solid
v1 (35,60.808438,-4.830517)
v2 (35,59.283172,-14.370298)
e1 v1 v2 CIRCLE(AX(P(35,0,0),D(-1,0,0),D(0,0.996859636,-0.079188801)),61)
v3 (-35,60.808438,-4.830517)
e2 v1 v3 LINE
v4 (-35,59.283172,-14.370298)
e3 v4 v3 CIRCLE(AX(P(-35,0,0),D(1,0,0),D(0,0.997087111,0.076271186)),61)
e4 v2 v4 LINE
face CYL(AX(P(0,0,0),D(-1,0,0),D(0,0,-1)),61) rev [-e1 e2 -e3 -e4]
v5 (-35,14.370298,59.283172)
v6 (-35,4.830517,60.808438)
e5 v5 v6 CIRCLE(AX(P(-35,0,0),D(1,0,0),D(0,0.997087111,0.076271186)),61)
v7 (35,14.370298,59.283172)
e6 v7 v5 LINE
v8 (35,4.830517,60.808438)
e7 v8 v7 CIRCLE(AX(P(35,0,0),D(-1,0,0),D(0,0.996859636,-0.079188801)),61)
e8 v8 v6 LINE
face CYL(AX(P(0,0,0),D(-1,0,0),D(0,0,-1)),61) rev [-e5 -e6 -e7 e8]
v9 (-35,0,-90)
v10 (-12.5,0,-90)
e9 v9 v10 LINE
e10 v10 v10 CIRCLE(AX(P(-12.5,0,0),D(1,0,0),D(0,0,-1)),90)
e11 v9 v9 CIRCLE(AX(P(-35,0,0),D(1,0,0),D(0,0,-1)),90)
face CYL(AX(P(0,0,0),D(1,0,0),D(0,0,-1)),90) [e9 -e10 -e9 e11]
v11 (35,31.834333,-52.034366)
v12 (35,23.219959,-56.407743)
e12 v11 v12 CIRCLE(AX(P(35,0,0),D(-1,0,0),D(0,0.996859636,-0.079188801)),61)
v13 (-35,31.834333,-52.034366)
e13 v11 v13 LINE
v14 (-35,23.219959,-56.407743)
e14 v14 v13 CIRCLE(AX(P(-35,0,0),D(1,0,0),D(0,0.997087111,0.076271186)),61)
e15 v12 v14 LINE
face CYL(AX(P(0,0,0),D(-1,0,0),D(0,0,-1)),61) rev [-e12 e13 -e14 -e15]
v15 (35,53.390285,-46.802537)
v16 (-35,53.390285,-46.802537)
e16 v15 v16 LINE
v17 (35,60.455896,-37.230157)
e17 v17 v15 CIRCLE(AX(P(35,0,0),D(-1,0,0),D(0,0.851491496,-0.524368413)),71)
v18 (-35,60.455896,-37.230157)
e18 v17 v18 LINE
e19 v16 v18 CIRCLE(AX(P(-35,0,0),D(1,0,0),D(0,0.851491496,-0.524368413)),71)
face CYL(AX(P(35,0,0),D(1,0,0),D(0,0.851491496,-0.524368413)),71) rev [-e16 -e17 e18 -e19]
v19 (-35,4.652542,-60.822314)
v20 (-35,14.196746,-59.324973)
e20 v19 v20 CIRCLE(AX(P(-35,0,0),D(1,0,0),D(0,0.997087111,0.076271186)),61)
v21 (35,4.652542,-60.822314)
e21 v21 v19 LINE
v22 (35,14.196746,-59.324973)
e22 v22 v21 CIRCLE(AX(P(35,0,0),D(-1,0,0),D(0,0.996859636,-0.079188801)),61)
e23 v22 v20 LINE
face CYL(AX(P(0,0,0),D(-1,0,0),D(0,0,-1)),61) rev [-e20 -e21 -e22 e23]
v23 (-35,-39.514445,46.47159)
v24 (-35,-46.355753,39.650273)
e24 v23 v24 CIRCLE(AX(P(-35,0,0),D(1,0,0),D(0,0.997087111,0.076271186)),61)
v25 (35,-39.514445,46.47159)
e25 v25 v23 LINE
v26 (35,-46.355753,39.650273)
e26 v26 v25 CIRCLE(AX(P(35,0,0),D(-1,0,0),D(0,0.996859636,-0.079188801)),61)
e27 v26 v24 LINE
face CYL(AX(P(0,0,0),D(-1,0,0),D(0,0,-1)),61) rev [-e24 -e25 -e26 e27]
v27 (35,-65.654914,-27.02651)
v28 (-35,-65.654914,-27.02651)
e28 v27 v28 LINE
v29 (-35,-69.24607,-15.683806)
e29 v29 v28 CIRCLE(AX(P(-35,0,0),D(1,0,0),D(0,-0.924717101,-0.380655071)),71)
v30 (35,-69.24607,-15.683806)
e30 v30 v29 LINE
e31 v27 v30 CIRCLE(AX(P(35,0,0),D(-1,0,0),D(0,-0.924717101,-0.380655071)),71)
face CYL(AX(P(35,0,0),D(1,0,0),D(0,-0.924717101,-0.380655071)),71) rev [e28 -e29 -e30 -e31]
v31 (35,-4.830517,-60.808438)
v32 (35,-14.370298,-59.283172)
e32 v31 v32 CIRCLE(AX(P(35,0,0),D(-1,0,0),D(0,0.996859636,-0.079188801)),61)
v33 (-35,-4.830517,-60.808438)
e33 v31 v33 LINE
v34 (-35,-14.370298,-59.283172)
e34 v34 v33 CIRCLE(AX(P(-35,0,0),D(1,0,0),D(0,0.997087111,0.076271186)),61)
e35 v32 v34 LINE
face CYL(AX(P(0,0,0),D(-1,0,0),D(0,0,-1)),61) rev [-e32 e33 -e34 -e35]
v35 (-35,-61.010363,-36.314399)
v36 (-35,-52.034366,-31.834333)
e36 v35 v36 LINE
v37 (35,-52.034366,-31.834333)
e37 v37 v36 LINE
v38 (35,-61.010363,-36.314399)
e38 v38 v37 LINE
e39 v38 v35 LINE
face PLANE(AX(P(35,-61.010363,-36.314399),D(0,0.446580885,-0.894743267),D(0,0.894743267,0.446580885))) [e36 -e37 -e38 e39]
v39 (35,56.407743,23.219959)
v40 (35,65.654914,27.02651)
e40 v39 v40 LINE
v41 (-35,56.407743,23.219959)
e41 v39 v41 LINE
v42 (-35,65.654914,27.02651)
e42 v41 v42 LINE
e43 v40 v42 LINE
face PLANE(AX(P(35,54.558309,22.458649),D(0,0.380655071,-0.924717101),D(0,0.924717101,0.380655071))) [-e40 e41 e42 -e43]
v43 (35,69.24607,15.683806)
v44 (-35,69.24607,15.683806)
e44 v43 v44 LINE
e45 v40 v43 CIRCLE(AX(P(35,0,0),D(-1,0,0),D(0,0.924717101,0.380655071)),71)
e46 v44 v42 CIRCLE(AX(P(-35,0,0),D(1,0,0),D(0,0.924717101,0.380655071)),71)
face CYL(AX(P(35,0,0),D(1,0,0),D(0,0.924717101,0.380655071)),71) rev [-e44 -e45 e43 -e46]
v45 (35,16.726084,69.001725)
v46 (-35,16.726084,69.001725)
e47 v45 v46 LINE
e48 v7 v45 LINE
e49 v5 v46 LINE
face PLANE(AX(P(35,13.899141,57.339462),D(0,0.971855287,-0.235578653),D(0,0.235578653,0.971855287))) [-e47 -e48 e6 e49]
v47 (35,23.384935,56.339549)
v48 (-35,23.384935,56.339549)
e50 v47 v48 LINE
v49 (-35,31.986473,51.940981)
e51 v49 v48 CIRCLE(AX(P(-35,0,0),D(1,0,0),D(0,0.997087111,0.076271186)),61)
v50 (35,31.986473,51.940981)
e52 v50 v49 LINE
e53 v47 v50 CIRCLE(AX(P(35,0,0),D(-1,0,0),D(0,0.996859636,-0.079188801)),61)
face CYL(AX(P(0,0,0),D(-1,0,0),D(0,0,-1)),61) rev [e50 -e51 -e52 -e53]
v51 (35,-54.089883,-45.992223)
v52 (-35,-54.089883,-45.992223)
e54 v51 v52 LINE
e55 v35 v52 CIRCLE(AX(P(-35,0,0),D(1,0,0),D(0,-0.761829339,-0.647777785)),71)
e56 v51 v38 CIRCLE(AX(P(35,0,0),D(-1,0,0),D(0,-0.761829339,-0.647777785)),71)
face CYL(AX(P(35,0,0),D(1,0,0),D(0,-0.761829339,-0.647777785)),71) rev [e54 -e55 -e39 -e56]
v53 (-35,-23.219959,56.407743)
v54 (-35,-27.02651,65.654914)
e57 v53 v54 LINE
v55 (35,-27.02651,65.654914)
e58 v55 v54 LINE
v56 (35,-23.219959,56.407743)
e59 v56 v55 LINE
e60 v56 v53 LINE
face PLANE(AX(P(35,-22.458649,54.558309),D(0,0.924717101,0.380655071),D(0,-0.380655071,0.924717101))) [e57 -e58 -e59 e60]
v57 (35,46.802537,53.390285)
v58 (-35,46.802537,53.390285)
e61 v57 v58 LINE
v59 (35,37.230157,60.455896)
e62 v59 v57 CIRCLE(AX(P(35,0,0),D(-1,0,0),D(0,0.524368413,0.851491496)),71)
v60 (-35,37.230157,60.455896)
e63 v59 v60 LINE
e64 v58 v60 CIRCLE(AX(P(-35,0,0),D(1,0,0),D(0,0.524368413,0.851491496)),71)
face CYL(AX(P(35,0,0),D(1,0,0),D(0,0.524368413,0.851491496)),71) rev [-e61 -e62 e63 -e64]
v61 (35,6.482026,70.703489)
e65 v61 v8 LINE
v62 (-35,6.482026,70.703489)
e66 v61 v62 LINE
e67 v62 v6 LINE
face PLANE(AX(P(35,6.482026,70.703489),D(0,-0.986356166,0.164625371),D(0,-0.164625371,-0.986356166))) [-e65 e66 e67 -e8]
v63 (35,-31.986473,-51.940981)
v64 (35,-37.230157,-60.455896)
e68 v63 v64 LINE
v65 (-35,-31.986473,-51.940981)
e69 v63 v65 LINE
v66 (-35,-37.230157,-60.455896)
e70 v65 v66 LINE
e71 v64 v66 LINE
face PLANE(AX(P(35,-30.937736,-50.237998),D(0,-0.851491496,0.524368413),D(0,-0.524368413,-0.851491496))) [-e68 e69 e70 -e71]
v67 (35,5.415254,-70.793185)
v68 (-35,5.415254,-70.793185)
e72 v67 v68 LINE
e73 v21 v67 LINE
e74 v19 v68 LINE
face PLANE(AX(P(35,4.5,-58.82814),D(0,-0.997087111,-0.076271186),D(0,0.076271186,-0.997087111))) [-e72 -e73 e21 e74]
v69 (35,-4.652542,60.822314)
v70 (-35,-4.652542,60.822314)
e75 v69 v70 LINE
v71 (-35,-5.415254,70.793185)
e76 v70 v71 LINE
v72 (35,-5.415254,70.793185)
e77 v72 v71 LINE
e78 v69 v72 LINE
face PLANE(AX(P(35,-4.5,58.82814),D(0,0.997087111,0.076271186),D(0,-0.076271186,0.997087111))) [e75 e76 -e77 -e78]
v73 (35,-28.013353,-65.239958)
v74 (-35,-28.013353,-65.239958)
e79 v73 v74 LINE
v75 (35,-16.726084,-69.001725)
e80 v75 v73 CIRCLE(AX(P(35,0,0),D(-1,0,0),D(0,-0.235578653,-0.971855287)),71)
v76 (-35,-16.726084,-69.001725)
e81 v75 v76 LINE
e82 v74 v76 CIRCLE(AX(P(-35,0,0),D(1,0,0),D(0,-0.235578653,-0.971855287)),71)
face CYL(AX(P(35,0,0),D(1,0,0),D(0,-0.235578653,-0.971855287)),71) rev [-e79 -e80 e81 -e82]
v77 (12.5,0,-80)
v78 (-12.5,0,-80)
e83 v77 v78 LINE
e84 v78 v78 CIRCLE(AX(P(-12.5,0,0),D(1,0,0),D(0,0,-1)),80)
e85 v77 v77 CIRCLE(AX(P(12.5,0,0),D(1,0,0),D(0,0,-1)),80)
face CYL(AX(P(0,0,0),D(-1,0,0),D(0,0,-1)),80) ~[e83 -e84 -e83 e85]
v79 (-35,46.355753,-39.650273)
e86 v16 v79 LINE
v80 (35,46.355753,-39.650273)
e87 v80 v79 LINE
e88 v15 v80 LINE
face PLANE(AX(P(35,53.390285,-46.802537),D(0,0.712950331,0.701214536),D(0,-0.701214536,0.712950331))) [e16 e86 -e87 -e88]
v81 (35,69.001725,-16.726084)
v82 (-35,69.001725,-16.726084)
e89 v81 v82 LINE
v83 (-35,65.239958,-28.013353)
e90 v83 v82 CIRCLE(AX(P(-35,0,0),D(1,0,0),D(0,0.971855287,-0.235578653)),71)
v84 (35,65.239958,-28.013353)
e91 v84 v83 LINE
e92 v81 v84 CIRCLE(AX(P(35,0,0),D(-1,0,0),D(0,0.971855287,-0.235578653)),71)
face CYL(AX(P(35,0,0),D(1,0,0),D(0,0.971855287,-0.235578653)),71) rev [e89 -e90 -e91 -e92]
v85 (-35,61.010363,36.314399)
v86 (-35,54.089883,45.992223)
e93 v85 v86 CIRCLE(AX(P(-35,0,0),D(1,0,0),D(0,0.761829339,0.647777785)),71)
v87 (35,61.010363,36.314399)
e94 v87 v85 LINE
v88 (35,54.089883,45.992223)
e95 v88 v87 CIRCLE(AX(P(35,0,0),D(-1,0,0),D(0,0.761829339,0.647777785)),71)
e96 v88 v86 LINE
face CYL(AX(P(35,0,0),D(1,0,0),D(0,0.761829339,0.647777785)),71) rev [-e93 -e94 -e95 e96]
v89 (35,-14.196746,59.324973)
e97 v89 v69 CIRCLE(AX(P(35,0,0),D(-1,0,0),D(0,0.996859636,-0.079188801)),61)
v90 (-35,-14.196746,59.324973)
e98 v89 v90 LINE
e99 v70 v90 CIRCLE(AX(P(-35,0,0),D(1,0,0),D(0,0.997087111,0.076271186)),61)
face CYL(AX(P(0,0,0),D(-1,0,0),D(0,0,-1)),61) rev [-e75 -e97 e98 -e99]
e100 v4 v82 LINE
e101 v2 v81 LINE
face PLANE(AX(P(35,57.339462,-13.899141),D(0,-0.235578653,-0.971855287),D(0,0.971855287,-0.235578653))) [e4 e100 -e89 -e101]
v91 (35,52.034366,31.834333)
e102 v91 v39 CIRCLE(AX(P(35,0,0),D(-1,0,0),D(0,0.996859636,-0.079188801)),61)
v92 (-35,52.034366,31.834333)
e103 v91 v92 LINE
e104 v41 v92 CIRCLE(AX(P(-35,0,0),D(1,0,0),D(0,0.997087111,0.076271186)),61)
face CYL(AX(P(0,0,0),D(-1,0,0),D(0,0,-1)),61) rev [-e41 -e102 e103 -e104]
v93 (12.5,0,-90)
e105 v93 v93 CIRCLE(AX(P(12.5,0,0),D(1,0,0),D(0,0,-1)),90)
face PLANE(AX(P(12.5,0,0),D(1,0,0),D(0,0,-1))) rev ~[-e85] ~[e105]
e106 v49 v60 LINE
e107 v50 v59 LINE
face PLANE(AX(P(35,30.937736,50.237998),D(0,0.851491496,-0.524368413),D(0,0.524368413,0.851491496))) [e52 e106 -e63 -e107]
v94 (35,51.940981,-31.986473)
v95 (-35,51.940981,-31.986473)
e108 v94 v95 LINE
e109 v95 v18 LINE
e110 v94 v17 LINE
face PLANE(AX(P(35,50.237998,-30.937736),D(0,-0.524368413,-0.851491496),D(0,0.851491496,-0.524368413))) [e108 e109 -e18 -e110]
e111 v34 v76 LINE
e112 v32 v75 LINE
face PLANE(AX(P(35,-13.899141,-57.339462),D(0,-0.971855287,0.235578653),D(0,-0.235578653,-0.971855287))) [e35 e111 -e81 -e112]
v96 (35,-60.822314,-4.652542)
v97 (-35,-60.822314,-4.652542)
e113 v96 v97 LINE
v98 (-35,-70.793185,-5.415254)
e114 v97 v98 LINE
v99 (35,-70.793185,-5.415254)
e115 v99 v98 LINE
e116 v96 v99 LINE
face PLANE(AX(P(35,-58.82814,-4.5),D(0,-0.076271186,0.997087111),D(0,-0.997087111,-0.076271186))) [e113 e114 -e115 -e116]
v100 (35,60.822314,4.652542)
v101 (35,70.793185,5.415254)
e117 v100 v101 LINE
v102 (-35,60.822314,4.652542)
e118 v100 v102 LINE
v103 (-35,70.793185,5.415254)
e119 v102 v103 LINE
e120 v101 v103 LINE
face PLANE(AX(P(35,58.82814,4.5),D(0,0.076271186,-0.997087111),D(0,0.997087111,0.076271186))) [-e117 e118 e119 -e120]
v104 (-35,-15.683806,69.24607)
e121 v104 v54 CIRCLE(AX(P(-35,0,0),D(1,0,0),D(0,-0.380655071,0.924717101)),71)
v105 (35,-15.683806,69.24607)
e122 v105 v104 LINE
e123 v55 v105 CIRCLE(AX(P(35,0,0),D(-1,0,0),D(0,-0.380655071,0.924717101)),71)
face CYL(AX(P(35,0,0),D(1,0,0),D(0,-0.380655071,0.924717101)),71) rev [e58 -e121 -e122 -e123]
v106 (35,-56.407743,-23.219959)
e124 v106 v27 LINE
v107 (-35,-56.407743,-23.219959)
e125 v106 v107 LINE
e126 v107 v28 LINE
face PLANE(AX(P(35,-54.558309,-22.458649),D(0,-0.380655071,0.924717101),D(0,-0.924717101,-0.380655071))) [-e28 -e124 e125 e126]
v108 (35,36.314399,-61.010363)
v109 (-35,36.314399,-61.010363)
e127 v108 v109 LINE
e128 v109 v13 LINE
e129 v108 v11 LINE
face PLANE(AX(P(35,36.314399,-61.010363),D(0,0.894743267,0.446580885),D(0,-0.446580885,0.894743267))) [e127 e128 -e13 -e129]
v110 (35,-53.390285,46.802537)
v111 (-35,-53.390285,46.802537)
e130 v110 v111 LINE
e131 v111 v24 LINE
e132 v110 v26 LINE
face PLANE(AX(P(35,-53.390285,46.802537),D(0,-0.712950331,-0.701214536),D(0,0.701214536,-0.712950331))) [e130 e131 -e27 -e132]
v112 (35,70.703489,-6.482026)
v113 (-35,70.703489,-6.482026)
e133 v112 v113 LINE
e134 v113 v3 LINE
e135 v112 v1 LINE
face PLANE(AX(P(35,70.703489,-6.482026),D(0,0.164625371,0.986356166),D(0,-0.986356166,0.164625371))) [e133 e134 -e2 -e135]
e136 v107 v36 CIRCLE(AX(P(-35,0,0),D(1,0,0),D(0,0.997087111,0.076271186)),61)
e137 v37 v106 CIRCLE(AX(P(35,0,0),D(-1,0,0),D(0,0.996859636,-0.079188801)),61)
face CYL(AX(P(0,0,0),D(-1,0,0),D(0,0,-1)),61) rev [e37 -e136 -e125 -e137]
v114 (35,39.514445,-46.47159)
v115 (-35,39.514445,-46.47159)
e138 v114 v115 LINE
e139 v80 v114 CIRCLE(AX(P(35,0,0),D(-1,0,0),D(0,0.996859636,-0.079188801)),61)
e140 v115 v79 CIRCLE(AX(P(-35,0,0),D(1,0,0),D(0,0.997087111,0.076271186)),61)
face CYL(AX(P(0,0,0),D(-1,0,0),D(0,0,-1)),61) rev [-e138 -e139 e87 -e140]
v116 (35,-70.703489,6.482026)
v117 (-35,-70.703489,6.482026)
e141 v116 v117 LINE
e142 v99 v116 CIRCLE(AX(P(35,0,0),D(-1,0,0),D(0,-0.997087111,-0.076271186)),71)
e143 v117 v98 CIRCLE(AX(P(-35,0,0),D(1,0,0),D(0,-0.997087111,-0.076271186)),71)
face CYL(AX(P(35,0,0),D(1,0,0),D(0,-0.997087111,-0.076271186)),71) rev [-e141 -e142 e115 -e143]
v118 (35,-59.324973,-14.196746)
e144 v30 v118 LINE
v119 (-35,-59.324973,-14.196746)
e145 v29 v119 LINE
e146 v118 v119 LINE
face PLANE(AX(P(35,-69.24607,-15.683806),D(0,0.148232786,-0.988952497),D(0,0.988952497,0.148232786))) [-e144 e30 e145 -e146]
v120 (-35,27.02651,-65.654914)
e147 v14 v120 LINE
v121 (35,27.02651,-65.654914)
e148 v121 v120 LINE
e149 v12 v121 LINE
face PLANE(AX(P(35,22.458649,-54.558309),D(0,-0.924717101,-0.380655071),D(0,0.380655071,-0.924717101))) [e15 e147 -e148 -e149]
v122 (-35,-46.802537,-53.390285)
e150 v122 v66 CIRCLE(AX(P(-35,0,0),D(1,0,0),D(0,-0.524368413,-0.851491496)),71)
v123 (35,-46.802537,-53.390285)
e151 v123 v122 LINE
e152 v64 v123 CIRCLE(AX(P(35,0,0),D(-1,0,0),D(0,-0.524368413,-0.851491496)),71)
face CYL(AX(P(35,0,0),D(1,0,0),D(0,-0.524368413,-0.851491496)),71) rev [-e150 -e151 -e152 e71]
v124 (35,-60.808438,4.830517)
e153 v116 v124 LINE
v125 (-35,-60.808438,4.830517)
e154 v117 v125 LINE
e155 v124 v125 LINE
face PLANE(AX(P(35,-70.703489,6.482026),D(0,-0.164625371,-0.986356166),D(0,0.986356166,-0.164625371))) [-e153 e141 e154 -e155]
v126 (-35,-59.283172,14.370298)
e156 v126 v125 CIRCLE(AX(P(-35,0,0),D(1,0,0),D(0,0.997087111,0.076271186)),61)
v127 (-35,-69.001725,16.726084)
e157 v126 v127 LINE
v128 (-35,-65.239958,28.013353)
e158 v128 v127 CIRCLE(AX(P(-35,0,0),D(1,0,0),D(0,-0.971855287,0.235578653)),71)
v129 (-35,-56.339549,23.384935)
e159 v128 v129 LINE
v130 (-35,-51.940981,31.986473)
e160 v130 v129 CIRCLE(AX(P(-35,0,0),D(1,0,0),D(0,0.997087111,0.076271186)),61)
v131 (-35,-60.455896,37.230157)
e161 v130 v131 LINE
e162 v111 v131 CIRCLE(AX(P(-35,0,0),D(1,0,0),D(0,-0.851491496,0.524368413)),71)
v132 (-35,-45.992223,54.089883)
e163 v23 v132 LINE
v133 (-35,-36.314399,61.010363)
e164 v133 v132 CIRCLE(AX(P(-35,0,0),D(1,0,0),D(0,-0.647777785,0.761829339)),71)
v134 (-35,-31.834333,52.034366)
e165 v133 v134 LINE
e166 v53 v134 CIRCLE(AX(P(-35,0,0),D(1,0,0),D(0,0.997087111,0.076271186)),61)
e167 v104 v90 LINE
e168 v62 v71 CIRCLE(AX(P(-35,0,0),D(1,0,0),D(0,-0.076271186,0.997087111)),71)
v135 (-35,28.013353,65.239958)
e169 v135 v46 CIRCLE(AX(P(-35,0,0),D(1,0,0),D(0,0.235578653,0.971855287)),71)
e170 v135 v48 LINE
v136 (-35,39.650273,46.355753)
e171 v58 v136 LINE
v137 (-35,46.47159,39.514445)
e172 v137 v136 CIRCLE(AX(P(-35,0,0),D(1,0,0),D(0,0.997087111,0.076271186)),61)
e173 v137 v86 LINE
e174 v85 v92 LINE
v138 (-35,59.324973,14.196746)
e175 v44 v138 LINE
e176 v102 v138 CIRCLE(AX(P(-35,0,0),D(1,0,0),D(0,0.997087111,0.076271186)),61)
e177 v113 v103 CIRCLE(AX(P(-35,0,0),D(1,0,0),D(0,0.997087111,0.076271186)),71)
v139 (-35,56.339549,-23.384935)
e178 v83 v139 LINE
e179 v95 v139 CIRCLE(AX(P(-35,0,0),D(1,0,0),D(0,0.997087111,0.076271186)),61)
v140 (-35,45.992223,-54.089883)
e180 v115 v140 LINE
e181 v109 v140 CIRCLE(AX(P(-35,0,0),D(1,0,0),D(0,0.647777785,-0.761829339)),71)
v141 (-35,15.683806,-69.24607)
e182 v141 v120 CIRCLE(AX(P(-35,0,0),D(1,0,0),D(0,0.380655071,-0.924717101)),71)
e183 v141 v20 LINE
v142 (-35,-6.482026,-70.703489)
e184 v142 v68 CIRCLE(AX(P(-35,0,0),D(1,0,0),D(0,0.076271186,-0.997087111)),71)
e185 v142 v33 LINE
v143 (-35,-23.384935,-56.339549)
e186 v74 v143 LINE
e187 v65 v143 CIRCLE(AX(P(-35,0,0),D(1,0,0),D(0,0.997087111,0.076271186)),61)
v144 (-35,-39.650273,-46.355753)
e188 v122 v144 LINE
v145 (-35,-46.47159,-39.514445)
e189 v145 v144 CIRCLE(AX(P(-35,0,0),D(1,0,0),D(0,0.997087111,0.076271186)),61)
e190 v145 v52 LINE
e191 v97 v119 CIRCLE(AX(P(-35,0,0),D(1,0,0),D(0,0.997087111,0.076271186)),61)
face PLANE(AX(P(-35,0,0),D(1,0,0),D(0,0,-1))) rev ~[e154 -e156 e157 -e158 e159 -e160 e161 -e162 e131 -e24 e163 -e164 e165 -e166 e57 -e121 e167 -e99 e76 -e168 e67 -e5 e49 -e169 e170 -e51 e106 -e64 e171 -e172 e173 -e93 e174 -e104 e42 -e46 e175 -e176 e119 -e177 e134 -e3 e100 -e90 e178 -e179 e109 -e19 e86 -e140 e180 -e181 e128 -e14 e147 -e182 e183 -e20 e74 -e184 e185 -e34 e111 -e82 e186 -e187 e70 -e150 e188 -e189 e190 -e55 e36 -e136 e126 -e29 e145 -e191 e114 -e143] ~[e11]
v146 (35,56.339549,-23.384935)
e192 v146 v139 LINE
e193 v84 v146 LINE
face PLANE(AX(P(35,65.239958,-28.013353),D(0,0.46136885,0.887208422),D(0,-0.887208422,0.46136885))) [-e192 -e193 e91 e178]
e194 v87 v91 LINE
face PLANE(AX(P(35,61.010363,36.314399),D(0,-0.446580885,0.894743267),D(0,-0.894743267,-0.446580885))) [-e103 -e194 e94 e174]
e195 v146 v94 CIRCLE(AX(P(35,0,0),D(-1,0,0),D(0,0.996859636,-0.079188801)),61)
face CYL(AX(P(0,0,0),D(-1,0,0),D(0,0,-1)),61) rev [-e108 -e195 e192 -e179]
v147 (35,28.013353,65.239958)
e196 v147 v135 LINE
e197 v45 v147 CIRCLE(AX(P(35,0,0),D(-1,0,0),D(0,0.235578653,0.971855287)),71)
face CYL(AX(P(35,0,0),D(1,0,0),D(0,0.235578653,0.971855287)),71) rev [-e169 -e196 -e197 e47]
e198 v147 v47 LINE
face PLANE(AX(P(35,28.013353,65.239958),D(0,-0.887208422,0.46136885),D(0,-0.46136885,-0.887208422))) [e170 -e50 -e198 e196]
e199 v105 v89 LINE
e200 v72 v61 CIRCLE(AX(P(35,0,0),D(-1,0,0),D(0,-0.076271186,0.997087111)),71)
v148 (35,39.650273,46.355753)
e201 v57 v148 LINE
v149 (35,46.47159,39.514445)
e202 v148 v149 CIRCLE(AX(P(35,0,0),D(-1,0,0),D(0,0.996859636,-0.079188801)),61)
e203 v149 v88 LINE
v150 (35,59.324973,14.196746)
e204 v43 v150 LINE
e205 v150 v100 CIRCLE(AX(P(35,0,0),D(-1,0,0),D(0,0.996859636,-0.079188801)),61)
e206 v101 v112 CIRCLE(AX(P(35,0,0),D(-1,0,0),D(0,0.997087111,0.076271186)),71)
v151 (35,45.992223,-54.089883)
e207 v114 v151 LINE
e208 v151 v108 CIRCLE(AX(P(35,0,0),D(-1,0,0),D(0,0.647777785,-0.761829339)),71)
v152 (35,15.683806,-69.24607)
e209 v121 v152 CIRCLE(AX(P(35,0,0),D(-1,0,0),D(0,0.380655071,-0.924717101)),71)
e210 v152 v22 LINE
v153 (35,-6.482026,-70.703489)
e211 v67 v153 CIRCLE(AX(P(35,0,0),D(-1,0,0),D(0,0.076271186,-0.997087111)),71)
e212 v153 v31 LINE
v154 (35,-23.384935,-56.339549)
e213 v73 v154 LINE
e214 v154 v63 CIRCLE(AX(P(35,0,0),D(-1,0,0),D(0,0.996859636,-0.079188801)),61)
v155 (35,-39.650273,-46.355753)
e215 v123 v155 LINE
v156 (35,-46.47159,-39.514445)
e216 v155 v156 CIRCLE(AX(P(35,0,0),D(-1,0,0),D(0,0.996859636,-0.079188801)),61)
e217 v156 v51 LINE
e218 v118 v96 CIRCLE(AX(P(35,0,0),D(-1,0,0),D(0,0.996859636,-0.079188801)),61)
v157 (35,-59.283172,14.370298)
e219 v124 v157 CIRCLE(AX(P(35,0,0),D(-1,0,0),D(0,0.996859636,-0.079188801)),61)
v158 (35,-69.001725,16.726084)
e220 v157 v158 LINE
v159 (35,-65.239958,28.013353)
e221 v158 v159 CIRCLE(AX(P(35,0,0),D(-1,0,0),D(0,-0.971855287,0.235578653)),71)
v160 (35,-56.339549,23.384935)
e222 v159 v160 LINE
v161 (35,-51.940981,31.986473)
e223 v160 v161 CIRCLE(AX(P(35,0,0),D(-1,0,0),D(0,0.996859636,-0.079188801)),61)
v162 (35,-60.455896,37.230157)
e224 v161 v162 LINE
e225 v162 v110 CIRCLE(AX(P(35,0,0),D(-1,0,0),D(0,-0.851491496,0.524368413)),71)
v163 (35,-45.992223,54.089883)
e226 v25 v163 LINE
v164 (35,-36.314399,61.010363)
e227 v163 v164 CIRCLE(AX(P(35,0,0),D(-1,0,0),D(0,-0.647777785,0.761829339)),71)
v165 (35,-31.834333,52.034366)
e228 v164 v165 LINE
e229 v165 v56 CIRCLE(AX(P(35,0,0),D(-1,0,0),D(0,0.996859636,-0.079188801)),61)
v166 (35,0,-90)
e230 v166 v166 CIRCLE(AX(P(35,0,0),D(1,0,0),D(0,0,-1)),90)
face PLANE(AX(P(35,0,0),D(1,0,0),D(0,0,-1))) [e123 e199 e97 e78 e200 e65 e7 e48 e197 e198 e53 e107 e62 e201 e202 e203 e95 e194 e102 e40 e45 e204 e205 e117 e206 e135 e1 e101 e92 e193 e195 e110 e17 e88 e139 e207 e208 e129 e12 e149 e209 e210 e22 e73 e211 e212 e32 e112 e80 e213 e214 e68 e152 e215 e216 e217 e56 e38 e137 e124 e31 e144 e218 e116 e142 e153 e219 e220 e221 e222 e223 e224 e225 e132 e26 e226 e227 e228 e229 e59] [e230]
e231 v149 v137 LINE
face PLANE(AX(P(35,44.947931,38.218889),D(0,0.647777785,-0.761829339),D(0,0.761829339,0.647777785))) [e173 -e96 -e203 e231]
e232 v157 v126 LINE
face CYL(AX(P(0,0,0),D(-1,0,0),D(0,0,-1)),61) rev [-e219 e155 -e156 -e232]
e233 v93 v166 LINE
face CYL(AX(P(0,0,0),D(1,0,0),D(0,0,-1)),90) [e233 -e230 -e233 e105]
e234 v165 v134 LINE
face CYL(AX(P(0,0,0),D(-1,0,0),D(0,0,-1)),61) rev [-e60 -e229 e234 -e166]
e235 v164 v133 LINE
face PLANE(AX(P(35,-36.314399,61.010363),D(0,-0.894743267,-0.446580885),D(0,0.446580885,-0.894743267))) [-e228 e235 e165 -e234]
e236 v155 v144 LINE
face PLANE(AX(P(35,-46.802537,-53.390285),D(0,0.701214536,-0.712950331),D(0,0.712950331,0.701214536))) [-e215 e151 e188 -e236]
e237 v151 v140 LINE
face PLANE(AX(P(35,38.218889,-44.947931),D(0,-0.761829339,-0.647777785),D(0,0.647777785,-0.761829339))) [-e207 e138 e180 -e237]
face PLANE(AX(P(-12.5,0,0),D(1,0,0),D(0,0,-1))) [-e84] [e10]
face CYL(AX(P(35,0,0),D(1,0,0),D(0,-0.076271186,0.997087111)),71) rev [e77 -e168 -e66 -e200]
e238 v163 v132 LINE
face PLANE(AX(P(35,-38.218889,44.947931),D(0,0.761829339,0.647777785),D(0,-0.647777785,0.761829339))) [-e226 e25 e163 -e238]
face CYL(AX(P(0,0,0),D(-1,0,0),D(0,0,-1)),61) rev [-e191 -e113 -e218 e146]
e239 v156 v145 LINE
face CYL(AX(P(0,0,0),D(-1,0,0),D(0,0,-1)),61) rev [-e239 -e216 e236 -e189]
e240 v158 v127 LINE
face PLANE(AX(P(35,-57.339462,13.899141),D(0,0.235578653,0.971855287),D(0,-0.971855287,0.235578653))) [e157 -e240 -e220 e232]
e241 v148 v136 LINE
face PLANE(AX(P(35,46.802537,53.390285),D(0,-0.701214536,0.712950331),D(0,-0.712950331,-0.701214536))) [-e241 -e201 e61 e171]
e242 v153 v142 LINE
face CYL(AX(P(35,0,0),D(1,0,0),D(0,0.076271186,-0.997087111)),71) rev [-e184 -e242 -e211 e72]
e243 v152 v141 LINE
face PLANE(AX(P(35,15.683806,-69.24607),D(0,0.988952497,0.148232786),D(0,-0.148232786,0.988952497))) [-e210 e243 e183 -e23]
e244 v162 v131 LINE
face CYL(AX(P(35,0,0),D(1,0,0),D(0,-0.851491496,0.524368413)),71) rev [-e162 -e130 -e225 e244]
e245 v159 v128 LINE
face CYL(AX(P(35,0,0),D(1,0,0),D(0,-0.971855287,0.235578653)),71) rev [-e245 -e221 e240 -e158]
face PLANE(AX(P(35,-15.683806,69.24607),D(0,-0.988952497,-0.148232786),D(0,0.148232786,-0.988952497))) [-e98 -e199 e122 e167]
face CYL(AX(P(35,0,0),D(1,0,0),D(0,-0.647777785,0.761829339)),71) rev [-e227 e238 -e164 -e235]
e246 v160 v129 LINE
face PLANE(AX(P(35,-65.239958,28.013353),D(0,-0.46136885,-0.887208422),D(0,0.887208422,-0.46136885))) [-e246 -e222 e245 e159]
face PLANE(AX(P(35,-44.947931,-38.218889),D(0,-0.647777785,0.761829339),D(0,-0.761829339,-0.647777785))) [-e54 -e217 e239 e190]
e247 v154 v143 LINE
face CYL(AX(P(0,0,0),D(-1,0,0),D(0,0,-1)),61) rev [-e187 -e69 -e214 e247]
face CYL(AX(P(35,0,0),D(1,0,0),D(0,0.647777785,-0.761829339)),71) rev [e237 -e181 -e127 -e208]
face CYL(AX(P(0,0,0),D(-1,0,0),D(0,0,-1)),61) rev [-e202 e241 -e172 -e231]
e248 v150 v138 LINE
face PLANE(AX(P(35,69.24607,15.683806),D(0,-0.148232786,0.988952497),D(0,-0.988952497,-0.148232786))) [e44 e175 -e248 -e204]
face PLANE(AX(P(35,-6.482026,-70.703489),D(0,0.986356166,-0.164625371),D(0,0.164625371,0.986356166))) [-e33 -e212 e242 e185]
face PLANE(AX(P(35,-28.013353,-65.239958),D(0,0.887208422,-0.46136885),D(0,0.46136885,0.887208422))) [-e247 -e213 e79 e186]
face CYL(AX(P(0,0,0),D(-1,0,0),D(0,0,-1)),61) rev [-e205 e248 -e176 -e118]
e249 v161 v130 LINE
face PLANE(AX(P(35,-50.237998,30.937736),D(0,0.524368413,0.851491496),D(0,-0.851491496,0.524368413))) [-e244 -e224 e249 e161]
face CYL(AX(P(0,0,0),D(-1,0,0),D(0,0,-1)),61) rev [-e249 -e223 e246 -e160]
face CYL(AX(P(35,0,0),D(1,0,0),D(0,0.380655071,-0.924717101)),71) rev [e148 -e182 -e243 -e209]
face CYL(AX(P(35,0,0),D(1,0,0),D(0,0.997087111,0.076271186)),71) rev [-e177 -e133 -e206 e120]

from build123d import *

# Parameters (mm, degrees)
SKETCH1_R           = 90
SKETCH1_R_2         = 61
BOSS_EXTRUDE1_DEPTH = 35
SKETCH2_R           = 59
CUT_EXTRUDE1_DEPTH  = 71
CIRPATTERN1_COUNT   = 20
CUT_EXTRUDE2_START  = -35
SKETCH3_R           = 90
SKETCH3_R_2         = 80
CUT_EXTRUDE2_DEPTH  = 12.5


with BuildPart() as part:
    # Sketch1 → Boss-Extrude1 (new body, symmetric)
    with BuildSketch(Plane(origin=(0, 0, 0), x_dir=(0, 0, -1), z_dir=(1, 0, 0))):
        Circle(SKETCH1_R)
        Circle(SKETCH1_R_2, mode=Mode.SUBTRACT)
    extrude(amount=BOSS_EXTRUDE1_DEPTH, both=True)

    # Sketch2 → Cut-Extrude1 (cut, through all)
    with BuildSketch(Plane(origin=(35, 0, 0), x_dir=(0, 0, -1), z_dir=(1, 0, 0))):
        Circle(SKETCH2_R)
        with BuildLine():
            Line((0, 51.395835648), (-4.5, 58.828139525))
            Line((-4.5, 58.828139525), (-5.415254237, 70.793184852))
            ThreePointArc((-5.415254237, 70.793184852), (0.535268123, 70.997982281), (6.48202623, 70.703488853))
            Line((6.48202623, 70.703488853), (4.5, 58.828139525))
            Line((4.5, 58.828139525), (0, 51.395835648))
        make_face()
    cut_extrude1 = extrude(amount=-CUT_EXTRUDE1_DEPTH, mode=Mode.SUBTRACT)

    # CirPattern1: Cut-Extrude1 ×20 about axis
    cirpattern1_axis = Axis((0, 0, 0), (1, 0, 0))
    for i in range(1, CIRPATTERN1_COUNT):
        add(cut_extrude1.rotate(cirpattern1_axis, i * 360 / CIRPATTERN1_COUNT), mode=Mode.SUBTRACT)

    # Sketch3 → Cut-Extrude2 (cut, symmetric)
    with BuildSketch(Plane(origin=(35, 0, 0), x_dir=(0, 0, -1), z_dir=(1, 0, 0)).offset(CUT_EXTRUDE2_START)):
        Circle(SKETCH3_R)
        Circle(SKETCH3_R_2, mode=Mode.SUBTRACT)
    extrude(amount=CUT_EXTRUDE2_DEPTH, both=True, mode=Mode.SUBTRACT)


solid = part.part
